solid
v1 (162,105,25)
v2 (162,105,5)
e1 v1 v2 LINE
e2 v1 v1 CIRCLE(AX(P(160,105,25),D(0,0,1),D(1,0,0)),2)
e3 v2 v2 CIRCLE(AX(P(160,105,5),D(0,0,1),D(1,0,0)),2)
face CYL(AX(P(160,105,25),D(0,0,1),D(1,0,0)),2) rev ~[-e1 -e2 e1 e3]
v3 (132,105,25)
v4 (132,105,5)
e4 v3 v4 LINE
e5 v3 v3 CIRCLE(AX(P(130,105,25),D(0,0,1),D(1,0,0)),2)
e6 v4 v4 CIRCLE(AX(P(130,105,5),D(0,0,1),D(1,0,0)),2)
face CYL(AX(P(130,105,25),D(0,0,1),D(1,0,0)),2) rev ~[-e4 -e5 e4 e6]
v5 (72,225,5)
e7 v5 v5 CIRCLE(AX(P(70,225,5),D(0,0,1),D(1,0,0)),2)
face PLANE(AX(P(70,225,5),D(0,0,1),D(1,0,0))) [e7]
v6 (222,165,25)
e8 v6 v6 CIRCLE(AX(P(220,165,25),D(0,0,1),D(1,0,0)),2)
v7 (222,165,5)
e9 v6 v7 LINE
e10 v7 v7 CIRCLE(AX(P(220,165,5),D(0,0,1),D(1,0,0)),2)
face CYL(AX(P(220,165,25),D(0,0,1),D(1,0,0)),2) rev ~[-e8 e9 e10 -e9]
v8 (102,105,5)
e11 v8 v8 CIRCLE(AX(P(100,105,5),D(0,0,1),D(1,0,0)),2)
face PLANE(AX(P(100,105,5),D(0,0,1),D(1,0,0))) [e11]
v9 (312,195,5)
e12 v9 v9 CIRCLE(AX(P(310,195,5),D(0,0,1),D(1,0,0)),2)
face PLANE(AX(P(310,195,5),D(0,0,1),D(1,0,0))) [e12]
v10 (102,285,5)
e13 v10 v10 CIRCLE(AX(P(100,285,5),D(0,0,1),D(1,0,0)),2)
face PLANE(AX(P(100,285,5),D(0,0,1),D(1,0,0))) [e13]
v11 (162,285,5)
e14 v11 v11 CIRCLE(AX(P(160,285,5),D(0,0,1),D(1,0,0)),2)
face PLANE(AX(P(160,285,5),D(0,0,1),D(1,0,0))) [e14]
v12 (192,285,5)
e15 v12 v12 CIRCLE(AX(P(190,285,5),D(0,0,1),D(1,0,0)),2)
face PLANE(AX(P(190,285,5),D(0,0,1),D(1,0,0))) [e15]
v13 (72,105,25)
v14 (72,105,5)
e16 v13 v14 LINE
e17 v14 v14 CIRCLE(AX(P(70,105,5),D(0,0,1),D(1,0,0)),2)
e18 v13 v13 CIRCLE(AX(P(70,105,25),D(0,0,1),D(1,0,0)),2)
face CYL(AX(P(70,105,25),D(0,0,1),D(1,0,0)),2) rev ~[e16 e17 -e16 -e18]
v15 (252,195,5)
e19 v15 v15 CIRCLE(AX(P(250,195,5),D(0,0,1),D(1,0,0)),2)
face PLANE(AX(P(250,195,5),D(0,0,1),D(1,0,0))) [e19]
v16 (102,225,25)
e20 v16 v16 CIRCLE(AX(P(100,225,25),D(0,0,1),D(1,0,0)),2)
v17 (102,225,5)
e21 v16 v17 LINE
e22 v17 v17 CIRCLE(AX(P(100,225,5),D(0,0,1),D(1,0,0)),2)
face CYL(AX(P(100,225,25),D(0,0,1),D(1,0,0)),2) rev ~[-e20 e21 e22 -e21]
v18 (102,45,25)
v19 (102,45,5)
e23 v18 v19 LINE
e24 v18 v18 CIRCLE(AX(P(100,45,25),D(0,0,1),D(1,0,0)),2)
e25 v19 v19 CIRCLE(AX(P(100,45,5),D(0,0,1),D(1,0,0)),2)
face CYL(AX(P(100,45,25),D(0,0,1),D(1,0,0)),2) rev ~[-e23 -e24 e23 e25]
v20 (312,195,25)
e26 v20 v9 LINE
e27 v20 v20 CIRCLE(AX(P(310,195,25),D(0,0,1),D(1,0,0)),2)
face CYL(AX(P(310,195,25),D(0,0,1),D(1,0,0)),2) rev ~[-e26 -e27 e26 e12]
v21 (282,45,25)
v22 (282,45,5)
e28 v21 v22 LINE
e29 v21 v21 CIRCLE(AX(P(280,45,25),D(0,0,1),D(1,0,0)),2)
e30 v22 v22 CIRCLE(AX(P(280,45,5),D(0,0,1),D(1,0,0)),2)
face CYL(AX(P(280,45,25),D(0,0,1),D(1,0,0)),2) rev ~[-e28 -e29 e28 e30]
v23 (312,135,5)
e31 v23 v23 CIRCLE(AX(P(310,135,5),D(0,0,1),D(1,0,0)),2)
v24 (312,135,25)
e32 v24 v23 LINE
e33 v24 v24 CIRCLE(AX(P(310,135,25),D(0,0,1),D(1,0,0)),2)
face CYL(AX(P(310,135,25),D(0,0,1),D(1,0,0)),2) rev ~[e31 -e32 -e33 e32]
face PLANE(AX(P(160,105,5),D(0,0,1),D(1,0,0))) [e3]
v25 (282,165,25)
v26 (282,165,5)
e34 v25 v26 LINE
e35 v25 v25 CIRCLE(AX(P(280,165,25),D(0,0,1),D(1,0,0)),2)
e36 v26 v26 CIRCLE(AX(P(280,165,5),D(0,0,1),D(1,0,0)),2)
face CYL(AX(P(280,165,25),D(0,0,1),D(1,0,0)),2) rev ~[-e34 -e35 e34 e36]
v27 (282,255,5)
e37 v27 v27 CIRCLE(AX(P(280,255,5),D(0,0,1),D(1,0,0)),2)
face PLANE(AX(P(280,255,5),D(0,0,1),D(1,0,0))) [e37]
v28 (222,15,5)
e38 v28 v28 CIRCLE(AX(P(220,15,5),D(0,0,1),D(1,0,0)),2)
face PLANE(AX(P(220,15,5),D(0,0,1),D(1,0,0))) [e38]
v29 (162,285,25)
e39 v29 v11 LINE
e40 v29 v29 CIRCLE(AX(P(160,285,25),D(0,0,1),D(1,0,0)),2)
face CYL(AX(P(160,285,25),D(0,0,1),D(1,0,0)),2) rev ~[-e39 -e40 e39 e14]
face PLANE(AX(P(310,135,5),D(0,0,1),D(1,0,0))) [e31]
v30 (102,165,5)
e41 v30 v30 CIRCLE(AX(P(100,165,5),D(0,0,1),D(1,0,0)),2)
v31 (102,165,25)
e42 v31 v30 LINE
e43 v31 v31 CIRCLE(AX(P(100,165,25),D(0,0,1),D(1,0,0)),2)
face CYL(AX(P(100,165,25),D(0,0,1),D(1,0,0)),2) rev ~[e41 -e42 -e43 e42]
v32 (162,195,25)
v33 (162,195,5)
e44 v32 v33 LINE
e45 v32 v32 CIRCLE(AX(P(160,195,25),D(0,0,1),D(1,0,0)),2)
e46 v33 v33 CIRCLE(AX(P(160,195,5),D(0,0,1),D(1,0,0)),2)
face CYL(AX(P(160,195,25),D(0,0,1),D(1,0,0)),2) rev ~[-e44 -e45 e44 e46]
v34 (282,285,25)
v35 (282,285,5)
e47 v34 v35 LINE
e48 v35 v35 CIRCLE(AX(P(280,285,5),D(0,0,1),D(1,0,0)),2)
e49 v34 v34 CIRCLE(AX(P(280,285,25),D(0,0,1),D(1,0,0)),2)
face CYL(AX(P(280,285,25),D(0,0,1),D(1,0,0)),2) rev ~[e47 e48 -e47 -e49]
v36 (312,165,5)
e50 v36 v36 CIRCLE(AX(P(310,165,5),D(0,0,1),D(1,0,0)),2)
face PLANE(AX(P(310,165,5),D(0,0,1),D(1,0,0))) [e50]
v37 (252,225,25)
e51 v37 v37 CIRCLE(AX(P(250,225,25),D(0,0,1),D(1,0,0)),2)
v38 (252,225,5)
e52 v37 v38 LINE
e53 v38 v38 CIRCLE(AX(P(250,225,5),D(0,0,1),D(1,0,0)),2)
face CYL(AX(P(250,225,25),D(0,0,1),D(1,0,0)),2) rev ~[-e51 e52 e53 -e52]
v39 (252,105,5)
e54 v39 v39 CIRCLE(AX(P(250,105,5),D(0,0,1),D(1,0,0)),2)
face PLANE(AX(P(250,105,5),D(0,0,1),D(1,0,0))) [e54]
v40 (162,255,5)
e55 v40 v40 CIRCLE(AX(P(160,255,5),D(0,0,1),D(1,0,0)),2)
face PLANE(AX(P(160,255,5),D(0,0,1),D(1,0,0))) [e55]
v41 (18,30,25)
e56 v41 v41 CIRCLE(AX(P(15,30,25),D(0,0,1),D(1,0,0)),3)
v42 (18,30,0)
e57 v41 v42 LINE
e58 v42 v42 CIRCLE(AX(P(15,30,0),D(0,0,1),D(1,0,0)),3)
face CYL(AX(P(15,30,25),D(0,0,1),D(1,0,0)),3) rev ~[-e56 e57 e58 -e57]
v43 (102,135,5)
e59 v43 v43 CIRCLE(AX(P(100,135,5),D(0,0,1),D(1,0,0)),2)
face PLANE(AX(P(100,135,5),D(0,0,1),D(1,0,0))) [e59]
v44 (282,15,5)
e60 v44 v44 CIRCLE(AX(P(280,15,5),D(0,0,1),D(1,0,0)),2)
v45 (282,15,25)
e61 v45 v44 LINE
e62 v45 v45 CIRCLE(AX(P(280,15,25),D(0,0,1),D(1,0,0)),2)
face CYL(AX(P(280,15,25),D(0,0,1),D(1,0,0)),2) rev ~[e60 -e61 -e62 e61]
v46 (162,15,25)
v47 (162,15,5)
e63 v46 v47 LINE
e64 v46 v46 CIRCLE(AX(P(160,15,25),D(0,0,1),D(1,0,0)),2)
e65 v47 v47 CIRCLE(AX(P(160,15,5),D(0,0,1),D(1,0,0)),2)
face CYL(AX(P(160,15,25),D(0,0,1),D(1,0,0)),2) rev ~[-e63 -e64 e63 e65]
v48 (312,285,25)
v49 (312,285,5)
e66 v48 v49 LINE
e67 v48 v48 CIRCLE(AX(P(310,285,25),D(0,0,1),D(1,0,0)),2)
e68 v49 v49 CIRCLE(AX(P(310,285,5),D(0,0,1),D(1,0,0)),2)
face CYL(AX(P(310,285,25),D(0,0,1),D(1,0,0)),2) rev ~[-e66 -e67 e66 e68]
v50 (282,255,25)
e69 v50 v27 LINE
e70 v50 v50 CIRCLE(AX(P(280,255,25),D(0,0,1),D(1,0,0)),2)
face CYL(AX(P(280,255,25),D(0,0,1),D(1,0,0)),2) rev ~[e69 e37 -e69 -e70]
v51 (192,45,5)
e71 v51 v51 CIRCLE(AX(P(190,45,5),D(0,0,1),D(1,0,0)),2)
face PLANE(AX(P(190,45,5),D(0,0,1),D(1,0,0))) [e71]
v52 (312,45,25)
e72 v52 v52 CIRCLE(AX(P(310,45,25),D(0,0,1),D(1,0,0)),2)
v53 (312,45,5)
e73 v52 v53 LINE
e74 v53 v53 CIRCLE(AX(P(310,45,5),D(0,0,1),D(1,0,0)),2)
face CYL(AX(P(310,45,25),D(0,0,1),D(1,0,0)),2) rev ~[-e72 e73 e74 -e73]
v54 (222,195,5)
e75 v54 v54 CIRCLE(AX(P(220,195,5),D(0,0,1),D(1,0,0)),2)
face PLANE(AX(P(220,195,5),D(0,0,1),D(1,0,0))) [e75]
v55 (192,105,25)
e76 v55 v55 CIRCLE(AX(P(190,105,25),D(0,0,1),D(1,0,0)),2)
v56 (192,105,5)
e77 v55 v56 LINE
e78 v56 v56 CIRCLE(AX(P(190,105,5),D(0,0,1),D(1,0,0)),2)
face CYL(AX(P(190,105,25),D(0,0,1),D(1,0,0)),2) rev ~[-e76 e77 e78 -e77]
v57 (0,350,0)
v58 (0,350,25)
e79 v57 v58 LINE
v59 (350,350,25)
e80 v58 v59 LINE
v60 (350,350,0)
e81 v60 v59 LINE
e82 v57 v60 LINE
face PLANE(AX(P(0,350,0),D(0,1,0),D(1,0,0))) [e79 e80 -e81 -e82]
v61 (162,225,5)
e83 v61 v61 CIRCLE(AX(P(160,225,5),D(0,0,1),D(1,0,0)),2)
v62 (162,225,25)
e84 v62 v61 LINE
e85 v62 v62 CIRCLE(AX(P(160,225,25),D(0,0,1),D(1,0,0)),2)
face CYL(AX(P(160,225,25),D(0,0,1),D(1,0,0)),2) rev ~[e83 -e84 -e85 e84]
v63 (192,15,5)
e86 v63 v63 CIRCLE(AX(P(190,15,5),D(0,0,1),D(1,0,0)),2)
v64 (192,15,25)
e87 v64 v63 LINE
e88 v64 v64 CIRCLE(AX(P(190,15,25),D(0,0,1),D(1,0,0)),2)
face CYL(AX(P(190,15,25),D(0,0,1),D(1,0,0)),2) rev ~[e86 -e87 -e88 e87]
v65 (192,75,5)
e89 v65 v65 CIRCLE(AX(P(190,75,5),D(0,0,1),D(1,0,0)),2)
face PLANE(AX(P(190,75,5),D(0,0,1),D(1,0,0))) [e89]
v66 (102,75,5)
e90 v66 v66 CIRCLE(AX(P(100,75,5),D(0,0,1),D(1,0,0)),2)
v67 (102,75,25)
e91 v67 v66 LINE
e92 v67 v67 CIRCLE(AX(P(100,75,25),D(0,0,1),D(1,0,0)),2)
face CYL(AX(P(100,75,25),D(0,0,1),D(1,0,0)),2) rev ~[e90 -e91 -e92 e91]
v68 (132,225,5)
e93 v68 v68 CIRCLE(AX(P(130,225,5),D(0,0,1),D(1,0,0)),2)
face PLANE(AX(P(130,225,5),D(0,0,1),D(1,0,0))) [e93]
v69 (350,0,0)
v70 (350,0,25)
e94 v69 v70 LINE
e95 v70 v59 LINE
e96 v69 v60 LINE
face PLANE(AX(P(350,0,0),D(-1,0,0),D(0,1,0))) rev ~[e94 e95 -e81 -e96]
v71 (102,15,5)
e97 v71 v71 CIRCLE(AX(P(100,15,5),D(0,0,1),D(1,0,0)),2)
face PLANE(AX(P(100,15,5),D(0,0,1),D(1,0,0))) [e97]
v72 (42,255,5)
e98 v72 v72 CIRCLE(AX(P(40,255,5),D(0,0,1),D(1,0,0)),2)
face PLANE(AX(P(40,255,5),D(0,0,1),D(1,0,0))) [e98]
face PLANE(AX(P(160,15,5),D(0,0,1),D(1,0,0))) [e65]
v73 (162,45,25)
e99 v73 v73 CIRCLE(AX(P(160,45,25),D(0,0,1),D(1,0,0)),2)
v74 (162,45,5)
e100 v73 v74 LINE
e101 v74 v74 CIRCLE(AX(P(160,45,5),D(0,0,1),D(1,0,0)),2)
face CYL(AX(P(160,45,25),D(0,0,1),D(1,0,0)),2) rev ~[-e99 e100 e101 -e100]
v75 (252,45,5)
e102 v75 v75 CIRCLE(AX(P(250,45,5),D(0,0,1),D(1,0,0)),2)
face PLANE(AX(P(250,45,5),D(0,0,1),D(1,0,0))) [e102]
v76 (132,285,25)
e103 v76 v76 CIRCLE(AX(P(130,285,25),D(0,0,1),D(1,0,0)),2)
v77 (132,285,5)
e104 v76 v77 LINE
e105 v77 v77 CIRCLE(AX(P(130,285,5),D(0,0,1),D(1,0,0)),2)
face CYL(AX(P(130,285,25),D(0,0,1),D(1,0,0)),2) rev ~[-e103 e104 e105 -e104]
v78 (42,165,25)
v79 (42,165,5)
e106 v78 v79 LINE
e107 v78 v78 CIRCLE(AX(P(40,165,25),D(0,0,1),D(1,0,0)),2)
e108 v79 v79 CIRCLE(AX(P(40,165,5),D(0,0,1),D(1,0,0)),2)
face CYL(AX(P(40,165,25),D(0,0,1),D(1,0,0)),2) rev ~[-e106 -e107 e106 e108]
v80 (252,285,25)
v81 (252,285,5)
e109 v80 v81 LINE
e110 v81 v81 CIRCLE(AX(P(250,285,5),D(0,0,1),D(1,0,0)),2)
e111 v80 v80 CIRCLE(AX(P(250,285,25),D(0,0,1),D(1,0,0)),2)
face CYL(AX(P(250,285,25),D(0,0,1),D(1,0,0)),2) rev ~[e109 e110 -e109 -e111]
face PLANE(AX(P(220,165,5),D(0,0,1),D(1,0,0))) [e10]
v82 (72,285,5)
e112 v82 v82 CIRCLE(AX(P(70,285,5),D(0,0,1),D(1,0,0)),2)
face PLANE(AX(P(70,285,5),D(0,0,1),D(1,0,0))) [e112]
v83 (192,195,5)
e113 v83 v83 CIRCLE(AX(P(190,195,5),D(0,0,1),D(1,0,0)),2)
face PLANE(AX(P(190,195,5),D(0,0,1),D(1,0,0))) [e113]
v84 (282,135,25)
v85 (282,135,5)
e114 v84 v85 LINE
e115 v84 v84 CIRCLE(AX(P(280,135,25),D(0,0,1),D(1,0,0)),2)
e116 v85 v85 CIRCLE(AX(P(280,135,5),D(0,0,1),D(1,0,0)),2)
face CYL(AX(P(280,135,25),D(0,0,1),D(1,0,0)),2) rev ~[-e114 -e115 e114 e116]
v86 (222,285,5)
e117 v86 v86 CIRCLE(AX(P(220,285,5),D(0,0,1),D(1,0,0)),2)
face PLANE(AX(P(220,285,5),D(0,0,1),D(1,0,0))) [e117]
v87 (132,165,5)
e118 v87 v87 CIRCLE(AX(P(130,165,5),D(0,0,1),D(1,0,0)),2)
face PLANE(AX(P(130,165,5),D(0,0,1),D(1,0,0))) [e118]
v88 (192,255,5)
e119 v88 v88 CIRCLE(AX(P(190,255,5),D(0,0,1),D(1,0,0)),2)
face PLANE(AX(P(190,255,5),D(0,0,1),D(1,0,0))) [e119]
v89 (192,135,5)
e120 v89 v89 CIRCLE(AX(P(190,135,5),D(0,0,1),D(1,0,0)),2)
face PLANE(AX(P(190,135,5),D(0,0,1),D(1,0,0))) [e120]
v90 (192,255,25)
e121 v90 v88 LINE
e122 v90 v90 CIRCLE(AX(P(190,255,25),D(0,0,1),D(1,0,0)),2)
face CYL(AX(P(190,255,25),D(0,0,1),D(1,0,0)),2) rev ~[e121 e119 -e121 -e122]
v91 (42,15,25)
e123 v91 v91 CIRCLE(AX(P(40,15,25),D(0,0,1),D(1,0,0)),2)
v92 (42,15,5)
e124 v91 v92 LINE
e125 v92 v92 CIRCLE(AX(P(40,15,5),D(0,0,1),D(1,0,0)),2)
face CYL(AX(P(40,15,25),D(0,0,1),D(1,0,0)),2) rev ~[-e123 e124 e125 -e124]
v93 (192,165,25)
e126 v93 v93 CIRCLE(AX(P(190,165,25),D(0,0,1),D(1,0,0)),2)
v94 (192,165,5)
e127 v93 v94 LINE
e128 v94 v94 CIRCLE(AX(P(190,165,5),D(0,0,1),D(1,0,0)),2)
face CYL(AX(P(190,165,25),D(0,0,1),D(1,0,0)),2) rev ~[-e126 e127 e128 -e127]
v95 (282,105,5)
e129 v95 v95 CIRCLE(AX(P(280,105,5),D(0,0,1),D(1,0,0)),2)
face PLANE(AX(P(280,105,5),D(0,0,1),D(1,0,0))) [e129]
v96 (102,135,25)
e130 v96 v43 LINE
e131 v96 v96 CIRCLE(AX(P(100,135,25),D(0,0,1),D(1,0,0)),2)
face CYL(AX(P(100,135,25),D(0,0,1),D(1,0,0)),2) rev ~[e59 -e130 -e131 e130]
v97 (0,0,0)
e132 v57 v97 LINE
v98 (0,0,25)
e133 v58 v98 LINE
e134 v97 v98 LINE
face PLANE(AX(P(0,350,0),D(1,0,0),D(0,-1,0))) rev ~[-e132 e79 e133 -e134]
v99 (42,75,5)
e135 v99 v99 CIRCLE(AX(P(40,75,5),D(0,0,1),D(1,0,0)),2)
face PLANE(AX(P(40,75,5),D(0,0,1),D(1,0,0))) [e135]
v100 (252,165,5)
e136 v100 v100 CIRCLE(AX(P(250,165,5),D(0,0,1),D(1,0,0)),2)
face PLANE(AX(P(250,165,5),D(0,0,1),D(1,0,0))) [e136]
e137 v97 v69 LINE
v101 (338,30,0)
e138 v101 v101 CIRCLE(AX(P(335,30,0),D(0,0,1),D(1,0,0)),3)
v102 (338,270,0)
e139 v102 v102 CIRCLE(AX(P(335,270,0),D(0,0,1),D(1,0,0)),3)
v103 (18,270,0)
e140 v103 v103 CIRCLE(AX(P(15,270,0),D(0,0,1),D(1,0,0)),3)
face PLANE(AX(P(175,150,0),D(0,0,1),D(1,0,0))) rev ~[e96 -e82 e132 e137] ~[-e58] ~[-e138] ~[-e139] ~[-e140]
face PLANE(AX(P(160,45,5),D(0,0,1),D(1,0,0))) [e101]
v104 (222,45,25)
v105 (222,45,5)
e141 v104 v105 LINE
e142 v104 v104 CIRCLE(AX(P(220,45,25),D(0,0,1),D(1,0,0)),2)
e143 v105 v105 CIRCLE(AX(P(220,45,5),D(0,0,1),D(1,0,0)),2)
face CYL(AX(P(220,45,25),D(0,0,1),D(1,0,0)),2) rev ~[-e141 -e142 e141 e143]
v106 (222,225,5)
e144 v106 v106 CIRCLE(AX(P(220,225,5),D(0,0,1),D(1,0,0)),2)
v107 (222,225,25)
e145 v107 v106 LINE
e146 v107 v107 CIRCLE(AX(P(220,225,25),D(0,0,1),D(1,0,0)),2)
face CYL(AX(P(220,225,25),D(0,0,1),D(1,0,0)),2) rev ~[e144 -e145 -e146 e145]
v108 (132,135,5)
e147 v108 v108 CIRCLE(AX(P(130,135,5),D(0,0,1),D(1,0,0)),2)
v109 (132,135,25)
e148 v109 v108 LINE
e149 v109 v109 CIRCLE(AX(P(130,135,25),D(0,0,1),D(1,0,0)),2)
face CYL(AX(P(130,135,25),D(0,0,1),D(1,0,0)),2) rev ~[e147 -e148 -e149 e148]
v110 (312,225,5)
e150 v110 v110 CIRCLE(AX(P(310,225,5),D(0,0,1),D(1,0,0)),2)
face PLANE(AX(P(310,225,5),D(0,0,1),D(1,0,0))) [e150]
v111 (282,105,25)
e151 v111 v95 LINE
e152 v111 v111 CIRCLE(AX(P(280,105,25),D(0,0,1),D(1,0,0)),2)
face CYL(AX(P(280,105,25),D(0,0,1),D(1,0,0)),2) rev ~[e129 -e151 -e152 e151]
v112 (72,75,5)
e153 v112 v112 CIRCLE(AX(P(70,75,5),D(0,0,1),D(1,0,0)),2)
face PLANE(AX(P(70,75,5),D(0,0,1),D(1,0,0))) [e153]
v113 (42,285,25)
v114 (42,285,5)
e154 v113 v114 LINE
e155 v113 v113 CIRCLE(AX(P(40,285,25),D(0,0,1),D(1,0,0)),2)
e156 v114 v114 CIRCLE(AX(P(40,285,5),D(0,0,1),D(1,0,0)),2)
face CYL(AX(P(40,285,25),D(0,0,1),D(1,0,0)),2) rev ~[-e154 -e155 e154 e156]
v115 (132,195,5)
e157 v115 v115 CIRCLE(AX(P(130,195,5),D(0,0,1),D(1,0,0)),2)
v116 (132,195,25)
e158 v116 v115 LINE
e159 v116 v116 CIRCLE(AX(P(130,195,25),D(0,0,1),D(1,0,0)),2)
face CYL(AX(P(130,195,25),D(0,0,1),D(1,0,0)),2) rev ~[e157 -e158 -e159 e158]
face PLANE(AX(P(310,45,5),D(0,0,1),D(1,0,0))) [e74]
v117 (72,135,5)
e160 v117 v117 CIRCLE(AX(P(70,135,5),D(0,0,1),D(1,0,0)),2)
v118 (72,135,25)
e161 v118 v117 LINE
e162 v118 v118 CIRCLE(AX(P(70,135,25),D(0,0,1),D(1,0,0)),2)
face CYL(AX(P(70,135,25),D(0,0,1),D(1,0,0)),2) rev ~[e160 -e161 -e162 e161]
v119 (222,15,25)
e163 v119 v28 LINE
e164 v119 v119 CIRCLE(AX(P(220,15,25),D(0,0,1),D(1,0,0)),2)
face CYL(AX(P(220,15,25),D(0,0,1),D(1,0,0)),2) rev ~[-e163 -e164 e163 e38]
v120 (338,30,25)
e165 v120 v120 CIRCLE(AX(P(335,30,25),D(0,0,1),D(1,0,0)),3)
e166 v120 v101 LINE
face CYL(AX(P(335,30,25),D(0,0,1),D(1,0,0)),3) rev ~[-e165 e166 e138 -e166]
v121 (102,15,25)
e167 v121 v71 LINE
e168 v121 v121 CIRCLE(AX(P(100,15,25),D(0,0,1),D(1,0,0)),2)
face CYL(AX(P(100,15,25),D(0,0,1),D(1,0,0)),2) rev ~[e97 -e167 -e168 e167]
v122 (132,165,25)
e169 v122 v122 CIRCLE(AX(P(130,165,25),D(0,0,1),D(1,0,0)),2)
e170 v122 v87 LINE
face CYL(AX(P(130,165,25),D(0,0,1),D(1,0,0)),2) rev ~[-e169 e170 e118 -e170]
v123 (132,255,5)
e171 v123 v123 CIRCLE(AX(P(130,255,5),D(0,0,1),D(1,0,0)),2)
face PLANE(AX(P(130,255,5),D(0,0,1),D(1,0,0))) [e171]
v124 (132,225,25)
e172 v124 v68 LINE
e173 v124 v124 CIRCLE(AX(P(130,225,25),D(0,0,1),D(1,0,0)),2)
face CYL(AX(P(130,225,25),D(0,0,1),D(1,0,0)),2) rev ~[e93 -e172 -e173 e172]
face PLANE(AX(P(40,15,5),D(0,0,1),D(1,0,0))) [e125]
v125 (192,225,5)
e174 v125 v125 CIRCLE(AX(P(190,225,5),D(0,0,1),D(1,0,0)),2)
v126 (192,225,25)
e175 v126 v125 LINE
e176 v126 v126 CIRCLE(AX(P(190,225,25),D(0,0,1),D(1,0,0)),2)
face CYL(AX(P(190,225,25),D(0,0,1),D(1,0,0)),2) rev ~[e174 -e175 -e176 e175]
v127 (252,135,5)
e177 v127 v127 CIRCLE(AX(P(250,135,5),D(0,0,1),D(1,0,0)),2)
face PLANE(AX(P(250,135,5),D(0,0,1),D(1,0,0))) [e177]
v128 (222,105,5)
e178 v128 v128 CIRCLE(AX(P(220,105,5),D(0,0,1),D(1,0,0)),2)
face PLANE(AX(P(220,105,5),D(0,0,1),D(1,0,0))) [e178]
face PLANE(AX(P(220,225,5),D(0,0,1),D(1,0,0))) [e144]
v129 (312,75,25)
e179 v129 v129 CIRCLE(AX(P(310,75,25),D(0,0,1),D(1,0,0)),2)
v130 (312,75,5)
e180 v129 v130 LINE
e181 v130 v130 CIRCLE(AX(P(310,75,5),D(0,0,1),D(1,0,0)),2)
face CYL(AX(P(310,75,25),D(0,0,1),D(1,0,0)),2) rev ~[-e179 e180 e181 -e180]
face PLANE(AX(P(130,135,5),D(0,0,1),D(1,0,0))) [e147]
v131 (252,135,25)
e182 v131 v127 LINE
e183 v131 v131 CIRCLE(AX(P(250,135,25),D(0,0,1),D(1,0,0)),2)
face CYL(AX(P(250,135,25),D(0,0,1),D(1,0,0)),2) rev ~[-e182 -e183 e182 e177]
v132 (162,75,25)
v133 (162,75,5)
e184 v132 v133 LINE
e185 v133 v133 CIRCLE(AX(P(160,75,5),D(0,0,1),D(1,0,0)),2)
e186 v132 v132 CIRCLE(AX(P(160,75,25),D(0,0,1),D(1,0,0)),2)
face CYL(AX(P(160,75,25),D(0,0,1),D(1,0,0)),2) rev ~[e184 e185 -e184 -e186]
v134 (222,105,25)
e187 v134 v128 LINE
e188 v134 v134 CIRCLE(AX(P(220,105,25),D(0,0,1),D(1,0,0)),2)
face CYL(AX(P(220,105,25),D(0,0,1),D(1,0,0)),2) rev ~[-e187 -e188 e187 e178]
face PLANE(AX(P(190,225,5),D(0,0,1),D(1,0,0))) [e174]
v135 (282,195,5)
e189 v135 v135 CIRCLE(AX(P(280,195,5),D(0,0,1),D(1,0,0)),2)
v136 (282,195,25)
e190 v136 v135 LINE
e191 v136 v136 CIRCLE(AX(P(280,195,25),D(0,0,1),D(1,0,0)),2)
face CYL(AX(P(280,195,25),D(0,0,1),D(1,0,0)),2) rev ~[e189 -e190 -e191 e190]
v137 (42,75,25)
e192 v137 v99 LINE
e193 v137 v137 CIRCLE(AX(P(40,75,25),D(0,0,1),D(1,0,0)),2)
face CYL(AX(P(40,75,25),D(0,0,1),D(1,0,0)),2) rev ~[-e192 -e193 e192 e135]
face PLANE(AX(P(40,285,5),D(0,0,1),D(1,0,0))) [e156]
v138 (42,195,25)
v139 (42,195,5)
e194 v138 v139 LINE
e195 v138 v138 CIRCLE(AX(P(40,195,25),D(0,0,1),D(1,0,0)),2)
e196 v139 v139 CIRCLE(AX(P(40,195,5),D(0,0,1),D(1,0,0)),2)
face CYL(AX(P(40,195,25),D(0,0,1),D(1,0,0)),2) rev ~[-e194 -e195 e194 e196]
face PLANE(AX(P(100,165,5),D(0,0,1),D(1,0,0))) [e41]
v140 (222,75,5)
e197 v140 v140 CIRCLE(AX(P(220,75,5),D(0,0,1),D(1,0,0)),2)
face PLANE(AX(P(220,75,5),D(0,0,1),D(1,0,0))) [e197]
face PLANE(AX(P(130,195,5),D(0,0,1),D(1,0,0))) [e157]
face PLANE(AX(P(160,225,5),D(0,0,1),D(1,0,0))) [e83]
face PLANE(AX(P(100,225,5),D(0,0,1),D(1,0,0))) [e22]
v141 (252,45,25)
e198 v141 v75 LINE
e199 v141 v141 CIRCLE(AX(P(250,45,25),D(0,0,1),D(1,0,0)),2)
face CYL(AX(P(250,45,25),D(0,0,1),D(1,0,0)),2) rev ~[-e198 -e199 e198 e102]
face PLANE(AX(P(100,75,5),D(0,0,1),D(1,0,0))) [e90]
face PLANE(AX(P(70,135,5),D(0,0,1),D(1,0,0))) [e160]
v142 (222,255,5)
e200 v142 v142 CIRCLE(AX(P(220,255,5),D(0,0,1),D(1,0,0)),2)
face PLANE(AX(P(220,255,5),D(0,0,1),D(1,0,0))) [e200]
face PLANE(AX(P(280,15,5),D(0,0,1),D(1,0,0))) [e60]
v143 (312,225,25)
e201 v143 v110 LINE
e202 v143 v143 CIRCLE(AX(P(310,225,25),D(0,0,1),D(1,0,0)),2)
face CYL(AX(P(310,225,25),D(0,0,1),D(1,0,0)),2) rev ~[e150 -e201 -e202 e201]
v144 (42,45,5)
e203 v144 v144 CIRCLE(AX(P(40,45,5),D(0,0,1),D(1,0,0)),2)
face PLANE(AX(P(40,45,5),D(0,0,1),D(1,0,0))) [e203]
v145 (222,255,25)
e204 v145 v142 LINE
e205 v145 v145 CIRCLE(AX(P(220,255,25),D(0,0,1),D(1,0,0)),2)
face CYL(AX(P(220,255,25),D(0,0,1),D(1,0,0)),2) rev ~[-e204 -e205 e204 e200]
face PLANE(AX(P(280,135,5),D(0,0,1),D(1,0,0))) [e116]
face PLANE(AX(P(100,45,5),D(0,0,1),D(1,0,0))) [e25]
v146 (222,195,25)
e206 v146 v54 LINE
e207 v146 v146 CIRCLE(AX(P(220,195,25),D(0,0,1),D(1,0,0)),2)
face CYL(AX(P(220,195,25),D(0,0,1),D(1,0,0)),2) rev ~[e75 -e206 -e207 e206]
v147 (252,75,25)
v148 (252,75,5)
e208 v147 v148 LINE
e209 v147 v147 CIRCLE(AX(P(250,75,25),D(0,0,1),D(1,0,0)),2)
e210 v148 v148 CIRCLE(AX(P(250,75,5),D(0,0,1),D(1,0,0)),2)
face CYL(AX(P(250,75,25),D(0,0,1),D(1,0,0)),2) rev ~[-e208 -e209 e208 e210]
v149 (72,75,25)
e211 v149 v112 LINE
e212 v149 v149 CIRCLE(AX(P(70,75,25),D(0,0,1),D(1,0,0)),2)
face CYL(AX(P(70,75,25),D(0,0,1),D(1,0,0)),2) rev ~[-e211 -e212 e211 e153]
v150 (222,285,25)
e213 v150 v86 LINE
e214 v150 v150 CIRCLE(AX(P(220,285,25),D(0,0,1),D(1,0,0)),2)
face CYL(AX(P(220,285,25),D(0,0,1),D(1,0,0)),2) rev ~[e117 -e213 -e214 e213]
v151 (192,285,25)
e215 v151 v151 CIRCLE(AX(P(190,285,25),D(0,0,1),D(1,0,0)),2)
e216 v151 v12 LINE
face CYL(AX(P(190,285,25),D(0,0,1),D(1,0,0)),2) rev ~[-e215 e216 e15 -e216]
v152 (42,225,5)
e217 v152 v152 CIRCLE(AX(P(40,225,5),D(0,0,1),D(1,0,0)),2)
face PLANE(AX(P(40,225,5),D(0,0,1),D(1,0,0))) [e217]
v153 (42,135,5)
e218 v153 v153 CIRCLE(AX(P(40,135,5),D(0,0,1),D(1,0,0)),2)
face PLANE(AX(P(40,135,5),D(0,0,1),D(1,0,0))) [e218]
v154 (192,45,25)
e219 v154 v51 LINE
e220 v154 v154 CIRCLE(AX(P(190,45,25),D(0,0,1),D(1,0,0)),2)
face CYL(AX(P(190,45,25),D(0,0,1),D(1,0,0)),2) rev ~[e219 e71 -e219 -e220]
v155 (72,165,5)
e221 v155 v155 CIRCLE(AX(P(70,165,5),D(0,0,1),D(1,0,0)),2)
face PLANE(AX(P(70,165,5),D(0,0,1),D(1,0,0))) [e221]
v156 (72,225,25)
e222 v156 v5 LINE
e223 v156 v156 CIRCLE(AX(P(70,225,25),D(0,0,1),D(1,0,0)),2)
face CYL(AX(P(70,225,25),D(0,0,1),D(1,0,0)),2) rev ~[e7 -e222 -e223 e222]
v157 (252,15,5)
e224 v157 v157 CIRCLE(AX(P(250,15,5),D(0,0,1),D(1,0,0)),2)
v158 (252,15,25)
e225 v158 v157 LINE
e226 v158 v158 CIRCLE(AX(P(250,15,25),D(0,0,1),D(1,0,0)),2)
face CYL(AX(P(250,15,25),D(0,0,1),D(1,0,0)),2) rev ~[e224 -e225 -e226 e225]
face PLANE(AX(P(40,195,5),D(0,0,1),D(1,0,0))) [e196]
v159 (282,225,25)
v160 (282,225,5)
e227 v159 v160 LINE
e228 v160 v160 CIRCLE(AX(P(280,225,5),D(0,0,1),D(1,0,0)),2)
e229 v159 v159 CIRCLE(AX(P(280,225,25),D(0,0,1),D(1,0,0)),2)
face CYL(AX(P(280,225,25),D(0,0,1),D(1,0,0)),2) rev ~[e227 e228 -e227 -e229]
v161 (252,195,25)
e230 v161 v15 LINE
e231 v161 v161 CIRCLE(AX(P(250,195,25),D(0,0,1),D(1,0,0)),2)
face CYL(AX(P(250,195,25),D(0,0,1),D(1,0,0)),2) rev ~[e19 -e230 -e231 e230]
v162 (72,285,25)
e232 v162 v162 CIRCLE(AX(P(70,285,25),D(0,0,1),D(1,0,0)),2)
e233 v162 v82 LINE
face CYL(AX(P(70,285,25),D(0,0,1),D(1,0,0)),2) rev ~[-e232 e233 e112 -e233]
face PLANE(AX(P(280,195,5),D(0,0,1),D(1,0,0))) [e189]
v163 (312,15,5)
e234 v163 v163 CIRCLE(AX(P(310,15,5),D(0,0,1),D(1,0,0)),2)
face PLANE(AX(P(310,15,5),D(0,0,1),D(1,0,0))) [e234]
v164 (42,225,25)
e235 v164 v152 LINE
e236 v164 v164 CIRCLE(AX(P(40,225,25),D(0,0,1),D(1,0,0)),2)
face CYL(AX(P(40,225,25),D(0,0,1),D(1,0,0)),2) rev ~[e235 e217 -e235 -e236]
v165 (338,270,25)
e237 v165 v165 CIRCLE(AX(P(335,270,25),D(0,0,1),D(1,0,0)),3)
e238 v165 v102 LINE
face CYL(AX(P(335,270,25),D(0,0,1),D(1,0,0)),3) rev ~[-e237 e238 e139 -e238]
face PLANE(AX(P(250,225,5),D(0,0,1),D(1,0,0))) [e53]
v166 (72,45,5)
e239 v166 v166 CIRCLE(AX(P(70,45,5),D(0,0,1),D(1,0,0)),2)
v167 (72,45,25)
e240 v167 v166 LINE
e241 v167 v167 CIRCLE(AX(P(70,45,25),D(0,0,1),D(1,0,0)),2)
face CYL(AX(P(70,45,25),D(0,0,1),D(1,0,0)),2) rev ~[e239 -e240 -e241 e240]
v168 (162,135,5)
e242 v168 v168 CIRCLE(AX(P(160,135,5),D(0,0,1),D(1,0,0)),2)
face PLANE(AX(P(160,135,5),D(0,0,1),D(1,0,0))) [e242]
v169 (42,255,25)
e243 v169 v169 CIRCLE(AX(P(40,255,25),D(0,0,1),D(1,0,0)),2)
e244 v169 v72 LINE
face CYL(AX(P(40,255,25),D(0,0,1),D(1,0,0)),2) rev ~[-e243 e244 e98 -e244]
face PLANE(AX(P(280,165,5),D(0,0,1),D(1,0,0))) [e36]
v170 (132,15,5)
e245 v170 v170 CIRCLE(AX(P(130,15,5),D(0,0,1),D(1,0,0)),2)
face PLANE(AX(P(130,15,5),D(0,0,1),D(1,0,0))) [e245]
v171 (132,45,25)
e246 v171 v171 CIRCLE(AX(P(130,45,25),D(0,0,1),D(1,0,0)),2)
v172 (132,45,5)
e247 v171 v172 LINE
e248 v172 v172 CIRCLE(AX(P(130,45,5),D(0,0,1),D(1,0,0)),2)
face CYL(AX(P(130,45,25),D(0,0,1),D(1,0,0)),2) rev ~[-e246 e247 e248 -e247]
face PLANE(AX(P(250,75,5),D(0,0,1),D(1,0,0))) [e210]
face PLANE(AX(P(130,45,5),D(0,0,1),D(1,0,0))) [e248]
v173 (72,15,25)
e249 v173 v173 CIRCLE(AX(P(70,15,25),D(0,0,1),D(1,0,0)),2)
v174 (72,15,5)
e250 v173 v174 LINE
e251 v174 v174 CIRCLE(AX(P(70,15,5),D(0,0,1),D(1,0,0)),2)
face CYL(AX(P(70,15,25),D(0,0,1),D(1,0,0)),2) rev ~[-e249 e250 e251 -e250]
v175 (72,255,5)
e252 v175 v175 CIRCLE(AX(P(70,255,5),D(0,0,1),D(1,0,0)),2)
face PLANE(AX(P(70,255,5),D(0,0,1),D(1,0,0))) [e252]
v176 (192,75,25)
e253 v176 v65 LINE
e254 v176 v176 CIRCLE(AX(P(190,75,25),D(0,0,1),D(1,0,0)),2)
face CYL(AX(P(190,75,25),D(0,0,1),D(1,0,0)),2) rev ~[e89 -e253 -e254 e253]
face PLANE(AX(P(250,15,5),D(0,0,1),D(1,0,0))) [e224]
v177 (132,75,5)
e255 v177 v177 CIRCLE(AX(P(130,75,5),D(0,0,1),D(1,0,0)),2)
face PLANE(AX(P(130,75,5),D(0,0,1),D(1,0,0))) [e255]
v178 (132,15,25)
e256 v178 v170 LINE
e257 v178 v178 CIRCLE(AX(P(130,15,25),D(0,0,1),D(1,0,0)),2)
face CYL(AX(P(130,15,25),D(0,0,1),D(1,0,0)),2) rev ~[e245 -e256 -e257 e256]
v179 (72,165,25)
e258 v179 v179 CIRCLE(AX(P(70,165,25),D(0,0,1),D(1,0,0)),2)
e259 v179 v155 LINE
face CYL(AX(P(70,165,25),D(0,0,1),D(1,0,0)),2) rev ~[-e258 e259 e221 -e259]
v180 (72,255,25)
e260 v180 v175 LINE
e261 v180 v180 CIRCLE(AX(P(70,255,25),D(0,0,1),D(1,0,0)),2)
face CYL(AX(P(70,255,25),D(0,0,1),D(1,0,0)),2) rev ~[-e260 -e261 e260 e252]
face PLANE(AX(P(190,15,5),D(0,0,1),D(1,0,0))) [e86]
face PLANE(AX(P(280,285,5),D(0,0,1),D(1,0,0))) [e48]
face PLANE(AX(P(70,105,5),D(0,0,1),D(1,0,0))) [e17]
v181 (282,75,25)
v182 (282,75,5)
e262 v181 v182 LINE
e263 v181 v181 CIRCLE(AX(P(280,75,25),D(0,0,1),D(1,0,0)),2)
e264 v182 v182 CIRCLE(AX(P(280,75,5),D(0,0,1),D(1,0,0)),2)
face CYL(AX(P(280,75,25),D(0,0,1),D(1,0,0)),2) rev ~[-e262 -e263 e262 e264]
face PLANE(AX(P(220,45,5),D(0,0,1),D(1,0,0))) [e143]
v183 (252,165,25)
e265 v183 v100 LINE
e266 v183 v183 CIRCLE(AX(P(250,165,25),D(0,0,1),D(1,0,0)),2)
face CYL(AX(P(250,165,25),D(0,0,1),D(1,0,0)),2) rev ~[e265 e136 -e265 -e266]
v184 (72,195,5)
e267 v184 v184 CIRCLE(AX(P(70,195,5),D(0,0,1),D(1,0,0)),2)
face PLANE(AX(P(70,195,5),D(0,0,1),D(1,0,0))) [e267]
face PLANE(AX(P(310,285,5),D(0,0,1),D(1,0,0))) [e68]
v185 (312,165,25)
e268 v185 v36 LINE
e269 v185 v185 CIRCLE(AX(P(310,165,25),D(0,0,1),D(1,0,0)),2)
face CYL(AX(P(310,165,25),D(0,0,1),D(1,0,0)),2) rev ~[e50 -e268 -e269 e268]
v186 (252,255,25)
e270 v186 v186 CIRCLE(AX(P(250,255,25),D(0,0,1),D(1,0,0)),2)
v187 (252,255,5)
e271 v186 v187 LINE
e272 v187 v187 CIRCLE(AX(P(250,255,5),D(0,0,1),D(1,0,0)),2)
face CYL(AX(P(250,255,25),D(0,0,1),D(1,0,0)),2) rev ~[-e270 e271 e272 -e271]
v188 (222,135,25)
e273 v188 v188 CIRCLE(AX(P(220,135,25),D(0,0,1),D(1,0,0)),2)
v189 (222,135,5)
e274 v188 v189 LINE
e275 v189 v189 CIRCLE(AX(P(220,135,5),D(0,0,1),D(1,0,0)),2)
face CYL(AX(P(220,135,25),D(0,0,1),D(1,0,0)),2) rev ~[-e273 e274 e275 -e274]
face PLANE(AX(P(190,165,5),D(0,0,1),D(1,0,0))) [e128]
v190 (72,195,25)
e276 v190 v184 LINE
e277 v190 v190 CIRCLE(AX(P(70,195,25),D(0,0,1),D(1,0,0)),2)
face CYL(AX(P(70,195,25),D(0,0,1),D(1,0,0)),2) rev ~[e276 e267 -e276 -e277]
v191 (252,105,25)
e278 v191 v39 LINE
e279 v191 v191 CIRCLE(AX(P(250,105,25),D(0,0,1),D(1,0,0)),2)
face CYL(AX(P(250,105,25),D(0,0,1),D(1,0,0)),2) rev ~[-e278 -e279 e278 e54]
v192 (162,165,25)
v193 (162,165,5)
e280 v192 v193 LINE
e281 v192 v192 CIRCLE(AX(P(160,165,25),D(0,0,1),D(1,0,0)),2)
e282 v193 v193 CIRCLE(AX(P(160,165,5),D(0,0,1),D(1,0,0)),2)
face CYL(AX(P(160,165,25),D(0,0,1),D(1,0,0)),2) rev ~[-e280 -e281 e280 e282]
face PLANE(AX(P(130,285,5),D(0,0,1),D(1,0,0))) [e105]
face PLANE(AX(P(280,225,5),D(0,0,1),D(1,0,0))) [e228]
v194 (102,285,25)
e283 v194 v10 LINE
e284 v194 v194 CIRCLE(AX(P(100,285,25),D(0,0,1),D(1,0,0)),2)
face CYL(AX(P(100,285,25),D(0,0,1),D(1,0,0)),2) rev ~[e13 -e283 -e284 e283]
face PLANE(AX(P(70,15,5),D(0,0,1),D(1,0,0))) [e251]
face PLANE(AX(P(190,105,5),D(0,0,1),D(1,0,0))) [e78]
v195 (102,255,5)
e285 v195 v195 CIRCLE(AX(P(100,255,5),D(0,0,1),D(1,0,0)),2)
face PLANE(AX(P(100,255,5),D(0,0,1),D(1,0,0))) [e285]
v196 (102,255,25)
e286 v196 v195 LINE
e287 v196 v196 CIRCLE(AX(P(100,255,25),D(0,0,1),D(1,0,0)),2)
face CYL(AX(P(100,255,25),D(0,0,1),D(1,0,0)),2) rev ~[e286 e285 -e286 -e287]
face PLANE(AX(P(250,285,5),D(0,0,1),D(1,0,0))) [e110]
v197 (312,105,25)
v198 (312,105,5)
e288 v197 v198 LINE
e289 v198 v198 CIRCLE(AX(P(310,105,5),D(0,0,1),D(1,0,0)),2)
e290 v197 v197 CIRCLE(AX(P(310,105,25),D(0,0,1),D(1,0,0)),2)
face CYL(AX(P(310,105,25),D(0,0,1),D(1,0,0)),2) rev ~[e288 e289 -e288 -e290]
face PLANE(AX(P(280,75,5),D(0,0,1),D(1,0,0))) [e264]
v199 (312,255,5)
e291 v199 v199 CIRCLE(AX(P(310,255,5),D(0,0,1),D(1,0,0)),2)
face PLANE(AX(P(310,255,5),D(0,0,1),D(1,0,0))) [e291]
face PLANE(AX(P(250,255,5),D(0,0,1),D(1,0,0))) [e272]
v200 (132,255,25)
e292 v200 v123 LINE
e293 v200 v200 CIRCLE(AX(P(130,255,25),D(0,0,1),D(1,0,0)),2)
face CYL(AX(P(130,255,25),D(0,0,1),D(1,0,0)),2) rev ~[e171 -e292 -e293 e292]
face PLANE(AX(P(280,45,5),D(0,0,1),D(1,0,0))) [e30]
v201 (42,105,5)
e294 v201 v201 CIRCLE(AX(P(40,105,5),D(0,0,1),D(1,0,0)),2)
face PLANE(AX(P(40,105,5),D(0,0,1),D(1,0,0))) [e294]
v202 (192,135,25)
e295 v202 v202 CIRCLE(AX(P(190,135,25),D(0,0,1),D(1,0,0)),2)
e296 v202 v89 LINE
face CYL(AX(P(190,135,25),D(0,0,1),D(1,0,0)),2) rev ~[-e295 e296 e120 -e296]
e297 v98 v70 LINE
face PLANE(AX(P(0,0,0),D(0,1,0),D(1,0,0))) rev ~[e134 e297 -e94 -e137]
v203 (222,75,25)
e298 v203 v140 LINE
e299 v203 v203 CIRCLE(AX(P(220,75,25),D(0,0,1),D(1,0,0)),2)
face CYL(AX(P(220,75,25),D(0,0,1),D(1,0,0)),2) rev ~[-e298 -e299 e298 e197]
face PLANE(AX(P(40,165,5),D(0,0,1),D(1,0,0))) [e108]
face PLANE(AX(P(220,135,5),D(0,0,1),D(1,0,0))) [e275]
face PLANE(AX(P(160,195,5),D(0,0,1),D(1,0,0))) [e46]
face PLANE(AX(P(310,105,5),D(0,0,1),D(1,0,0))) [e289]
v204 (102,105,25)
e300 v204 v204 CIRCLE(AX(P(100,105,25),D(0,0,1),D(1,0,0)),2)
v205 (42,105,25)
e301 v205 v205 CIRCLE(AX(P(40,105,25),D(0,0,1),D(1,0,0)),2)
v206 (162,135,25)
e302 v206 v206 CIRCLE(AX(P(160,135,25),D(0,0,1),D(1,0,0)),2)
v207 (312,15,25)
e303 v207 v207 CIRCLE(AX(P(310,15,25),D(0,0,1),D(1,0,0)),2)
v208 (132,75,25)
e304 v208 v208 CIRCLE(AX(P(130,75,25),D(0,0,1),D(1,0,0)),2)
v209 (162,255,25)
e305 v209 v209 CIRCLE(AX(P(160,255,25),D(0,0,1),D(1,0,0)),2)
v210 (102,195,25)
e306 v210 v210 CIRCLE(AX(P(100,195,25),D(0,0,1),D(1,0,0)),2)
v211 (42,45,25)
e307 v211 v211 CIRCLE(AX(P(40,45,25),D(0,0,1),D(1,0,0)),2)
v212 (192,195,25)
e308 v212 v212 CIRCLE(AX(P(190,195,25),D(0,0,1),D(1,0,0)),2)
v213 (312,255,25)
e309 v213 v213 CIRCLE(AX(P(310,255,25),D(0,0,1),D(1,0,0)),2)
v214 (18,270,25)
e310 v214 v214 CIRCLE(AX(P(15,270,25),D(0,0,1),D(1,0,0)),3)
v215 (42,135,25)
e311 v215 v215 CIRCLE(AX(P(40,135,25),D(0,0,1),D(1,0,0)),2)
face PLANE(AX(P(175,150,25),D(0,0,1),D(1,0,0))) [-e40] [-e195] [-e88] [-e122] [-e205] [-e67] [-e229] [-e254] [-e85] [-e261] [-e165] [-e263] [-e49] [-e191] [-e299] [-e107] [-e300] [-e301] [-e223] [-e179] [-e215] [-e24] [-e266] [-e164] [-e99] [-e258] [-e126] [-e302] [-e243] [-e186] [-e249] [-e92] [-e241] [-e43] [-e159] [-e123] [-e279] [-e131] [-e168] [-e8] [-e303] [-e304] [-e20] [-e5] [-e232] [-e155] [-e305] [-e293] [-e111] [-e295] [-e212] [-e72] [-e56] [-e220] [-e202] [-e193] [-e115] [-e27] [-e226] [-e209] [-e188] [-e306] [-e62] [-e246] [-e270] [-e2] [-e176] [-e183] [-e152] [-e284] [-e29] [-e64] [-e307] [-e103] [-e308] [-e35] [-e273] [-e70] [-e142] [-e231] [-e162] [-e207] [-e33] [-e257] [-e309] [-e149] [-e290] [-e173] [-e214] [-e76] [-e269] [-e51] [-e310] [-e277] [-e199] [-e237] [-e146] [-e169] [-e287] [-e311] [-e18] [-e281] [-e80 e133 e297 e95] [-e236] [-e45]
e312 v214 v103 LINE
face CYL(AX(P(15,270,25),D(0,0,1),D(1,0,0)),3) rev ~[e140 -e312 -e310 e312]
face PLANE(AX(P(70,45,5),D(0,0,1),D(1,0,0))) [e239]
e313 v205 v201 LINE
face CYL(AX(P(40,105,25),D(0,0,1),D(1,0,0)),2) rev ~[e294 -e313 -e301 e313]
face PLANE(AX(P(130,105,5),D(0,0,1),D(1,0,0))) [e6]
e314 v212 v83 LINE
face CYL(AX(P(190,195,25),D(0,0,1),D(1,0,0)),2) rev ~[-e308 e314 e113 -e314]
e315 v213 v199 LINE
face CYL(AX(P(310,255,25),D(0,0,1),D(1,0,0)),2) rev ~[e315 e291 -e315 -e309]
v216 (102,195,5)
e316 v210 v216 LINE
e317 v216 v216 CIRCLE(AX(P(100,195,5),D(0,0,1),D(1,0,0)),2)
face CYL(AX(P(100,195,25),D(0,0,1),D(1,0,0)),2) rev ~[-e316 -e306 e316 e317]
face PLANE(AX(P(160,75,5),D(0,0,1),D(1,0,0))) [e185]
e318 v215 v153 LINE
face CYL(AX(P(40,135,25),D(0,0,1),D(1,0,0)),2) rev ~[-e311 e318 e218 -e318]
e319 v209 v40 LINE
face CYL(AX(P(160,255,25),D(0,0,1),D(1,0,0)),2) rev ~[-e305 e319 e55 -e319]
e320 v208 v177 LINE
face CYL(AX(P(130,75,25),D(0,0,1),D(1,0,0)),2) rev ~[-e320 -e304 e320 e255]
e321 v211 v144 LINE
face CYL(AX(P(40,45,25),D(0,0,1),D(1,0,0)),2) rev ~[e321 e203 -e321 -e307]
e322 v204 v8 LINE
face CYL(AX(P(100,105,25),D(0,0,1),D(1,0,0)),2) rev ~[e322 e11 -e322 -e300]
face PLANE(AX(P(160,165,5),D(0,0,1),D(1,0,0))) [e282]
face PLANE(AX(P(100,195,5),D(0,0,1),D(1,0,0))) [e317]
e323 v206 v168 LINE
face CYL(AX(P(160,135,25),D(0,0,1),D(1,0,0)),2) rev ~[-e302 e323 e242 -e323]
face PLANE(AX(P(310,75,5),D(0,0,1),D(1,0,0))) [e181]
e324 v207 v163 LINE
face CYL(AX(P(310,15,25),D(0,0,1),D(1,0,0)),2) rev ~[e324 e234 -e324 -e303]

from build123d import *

# Parameters (mm, degrees)
F0_W     = 350
F0_H     = 300
F0_H_2   = 50
F1_DEPTH = 25
F2_R     = 2
F3_DEPTH = 20
F4_R     = 3
F5_DEPTH = 25.001


with BuildPart() as f1:
    # F0 (on Top) → F1 (new body)
    with BuildSketch(Plane.XY):
        with Locations((175, 150)):
            Rectangle(F0_W, F0_H)
        with Locations((175, 325)):
            Rectangle(F0_W, F0_H_2)
    extrude(amount=F1_DEPTH)

    # F2 (on face) → F3 (cut)
    with BuildSketch(Plane.XY.offset(25)):
        with Locations((40, 15)):
            Circle(F2_R)
        with Locations((40, 45)):
            Circle(F2_R)
        with Locations((40, 75)):
            Circle(F2_R)
        with Locations((40, 105)):
            Circle(F2_R)
        with Locations((40, 135)):
            Circle(F2_R)
        with Locations((40, 165)):
            Circle(F2_R)
        with Locations((40, 195)):
            Circle(F2_R)
        with Locations((40, 225)):
            Circle(F2_R)
        with Locations((40, 255)):
            Circle(F2_R)
        with Locations((40, 285)):
            Circle(F2_R)
        with Locations((70, 15)):
            Circle(F2_R)
        with Locations((70, 45)):
            Circle(F2_R)
        with Locations((70, 75)):
            Circle(F2_R)
        with Locations((70, 105)):
            Circle(F2_R)
        with Locations((70, 135)):
            Circle(F2_R)
        with Locations((70, 165)):
            Circle(F2_R)
        with Locations((70, 195)):
            Circle(F2_R)
        with Locations((70, 225)):
            Circle(F2_R)
        with Locations((70, 255)):
            Circle(F2_R)
        with Locations((70, 285)):
            Circle(F2_R)
        with Locations((100, 15)):
            Circle(F2_R)
        with Locations((100, 45)):
            Circle(F2_R)
        with Locations((100, 75)):
            Circle(F2_R)
        with Locations((100, 105)):
            Circle(F2_R)
        with Locations((100, 135)):
            Circle(F2_R)
        with Locations((100, 165)):
            Circle(F2_R)
        with Locations((100, 195)):
            Circle(F2_R)
        with Locations((100, 225)):
            Circle(F2_R)
        with Locations((100, 255)):
            Circle(F2_R)
        with Locations((100, 285)):
            Circle(F2_R)
        with Locations((130, 15)):
            Circle(F2_R)
        with Locations((130, 45)):
            Circle(F2_R)
        with Locations((130, 75)):
            Circle(F2_R)
        with Locations((130, 105)):
            Circle(F2_R)
        with Locations((130, 135)):
            Circle(F2_R)
        with Locations((130, 165)):
            Circle(F2_R)
        with Locations((130, 195)):
            Circle(F2_R)
        with Locations((130, 225)):
            Circle(F2_R)
        with Locations((130, 255)):
            Circle(F2_R)
        with Locations((130, 285)):
            Circle(F2_R)
        with Locations((160, 15)):
            Circle(F2_R)
        with Locations((160, 45)):
            Circle(F2_R)
        with Locations((160, 75)):
            Circle(F2_R)
        with Locations((160, 105)):
            Circle(F2_R)
        with Locations((160, 135)):
            Circle(F2_R)
        with Locations((160, 165)):
            Circle(F2_R)
        with Locations((160, 195)):
            Circle(F2_R)
        with Locations((160, 225)):
            Circle(F2_R)
        with Locations((160, 255)):
            Circle(F2_R)
        with Locations((160, 285)):
            Circle(F2_R)
        with Locations((190, 15)):
            Circle(F2_R)
        with Locations((190, 45)):
            Circle(F2_R)
        with Locations((190, 75)):
            Circle(F2_R)
        with Locations((190, 105)):
            Circle(F2_R)
        with Locations((190, 135)):
            Circle(F2_R)
        with Locations((190, 165)):
            Circle(F2_R)
        with Locations((190, 195)):
            Circle(F2_R)
        with Locations((190, 225)):
            Circle(F2_R)
        with Locations((190, 255)):
            Circle(F2_R)
        with Locations((190, 285)):
            Circle(F2_R)
        with Locations((220, 15)):
            Circle(F2_R)
        with Locations((220, 45)):
            Circle(F2_R)
        with Locations((220, 75)):
            Circle(F2_R)
        with Locations((220, 105)):
            Circle(F2_R)
        with Locations((220, 135)):
            Circle(F2_R)
        with Locations((220, 165)):
            Circle(F2_R)
        with Locations((220, 195)):
            Circle(F2_R)
        with Locations((220, 225)):
            Circle(F2_R)
        with Locations((220, 255)):
            Circle(F2_R)
        with Locations((220, 285)):
            Circle(F2_R)
        with Locations((250, 15)):
            Circle(F2_R)
        with Locations((250, 45)):
            Circle(F2_R)
        with Locations((250, 75)):
            Circle(F2_R)
        with Locations((250, 105)):
            Circle(F2_R)
        with Locations((250, 135)):
            Circle(F2_R)
        with Locations((250, 165)):
            Circle(F2_R)
        with Locations((250, 195)):
            Circle(F2_R)
        with Locations((250, 225)):
            Circle(F2_R)
        with Locations((250, 255)):
            Circle(F2_R)
        with Locations((250, 285)):
            Circle(F2_R)
        with Locations((280, 15)):
            Circle(F2_R)
        with Locations((280, 45)):
            Circle(F2_R)
        with Locations((280, 75)):
            Circle(F2_R)
        with Locations((280, 105)):
            Circle(F2_R)
        with Locations((280, 135)):
            Circle(F2_R)
        with Locations((280, 165)):
            Circle(F2_R)
        with Locations((280, 195)):
            Circle(F2_R)
        with Locations((280, 225)):
            Circle(F2_R)
        with Locations((280, 255)):
            Circle(F2_R)
        with Locations((280, 285)):
            Circle(F2_R)
        with Locations((310, 15)):
            Circle(F2_R)
        with Locations((310, 45)):
            Circle(F2_R)
        with Locations((310, 75)):
            Circle(F2_R)
        with Locations((310, 105)):
            Circle(F2_R)
        with Locations((310, 135)):
            Circle(F2_R)
        with Locations((310, 165)):
            Circle(F2_R)
        with Locations((310, 195)):
            Circle(F2_R)
        with Locations((310, 225)):
            Circle(F2_R)
        with Locations((310, 255)):
            Circle(F2_R)
        with Locations((310, 285)):
            Circle(F2_R)
    extrude(amount=-F3_DEPTH, mode=Mode.SUBTRACT)

    # F4 (on face) → F5 (cut, through all)
    with BuildSketch(Plane.XY.offset(25)):
        with Locations((15, 270)):
            Circle(F4_R)
        with Locations((335, 270)):
            Circle(F4_R)
        with Locations((335, 30)):
            Circle(F4_R)
        with Locations((15, 30)):
            Circle(F4_R)
    extrude(amount=-F5_DEPTH, mode=Mode.SUBTRACT)


solid = f1.part
